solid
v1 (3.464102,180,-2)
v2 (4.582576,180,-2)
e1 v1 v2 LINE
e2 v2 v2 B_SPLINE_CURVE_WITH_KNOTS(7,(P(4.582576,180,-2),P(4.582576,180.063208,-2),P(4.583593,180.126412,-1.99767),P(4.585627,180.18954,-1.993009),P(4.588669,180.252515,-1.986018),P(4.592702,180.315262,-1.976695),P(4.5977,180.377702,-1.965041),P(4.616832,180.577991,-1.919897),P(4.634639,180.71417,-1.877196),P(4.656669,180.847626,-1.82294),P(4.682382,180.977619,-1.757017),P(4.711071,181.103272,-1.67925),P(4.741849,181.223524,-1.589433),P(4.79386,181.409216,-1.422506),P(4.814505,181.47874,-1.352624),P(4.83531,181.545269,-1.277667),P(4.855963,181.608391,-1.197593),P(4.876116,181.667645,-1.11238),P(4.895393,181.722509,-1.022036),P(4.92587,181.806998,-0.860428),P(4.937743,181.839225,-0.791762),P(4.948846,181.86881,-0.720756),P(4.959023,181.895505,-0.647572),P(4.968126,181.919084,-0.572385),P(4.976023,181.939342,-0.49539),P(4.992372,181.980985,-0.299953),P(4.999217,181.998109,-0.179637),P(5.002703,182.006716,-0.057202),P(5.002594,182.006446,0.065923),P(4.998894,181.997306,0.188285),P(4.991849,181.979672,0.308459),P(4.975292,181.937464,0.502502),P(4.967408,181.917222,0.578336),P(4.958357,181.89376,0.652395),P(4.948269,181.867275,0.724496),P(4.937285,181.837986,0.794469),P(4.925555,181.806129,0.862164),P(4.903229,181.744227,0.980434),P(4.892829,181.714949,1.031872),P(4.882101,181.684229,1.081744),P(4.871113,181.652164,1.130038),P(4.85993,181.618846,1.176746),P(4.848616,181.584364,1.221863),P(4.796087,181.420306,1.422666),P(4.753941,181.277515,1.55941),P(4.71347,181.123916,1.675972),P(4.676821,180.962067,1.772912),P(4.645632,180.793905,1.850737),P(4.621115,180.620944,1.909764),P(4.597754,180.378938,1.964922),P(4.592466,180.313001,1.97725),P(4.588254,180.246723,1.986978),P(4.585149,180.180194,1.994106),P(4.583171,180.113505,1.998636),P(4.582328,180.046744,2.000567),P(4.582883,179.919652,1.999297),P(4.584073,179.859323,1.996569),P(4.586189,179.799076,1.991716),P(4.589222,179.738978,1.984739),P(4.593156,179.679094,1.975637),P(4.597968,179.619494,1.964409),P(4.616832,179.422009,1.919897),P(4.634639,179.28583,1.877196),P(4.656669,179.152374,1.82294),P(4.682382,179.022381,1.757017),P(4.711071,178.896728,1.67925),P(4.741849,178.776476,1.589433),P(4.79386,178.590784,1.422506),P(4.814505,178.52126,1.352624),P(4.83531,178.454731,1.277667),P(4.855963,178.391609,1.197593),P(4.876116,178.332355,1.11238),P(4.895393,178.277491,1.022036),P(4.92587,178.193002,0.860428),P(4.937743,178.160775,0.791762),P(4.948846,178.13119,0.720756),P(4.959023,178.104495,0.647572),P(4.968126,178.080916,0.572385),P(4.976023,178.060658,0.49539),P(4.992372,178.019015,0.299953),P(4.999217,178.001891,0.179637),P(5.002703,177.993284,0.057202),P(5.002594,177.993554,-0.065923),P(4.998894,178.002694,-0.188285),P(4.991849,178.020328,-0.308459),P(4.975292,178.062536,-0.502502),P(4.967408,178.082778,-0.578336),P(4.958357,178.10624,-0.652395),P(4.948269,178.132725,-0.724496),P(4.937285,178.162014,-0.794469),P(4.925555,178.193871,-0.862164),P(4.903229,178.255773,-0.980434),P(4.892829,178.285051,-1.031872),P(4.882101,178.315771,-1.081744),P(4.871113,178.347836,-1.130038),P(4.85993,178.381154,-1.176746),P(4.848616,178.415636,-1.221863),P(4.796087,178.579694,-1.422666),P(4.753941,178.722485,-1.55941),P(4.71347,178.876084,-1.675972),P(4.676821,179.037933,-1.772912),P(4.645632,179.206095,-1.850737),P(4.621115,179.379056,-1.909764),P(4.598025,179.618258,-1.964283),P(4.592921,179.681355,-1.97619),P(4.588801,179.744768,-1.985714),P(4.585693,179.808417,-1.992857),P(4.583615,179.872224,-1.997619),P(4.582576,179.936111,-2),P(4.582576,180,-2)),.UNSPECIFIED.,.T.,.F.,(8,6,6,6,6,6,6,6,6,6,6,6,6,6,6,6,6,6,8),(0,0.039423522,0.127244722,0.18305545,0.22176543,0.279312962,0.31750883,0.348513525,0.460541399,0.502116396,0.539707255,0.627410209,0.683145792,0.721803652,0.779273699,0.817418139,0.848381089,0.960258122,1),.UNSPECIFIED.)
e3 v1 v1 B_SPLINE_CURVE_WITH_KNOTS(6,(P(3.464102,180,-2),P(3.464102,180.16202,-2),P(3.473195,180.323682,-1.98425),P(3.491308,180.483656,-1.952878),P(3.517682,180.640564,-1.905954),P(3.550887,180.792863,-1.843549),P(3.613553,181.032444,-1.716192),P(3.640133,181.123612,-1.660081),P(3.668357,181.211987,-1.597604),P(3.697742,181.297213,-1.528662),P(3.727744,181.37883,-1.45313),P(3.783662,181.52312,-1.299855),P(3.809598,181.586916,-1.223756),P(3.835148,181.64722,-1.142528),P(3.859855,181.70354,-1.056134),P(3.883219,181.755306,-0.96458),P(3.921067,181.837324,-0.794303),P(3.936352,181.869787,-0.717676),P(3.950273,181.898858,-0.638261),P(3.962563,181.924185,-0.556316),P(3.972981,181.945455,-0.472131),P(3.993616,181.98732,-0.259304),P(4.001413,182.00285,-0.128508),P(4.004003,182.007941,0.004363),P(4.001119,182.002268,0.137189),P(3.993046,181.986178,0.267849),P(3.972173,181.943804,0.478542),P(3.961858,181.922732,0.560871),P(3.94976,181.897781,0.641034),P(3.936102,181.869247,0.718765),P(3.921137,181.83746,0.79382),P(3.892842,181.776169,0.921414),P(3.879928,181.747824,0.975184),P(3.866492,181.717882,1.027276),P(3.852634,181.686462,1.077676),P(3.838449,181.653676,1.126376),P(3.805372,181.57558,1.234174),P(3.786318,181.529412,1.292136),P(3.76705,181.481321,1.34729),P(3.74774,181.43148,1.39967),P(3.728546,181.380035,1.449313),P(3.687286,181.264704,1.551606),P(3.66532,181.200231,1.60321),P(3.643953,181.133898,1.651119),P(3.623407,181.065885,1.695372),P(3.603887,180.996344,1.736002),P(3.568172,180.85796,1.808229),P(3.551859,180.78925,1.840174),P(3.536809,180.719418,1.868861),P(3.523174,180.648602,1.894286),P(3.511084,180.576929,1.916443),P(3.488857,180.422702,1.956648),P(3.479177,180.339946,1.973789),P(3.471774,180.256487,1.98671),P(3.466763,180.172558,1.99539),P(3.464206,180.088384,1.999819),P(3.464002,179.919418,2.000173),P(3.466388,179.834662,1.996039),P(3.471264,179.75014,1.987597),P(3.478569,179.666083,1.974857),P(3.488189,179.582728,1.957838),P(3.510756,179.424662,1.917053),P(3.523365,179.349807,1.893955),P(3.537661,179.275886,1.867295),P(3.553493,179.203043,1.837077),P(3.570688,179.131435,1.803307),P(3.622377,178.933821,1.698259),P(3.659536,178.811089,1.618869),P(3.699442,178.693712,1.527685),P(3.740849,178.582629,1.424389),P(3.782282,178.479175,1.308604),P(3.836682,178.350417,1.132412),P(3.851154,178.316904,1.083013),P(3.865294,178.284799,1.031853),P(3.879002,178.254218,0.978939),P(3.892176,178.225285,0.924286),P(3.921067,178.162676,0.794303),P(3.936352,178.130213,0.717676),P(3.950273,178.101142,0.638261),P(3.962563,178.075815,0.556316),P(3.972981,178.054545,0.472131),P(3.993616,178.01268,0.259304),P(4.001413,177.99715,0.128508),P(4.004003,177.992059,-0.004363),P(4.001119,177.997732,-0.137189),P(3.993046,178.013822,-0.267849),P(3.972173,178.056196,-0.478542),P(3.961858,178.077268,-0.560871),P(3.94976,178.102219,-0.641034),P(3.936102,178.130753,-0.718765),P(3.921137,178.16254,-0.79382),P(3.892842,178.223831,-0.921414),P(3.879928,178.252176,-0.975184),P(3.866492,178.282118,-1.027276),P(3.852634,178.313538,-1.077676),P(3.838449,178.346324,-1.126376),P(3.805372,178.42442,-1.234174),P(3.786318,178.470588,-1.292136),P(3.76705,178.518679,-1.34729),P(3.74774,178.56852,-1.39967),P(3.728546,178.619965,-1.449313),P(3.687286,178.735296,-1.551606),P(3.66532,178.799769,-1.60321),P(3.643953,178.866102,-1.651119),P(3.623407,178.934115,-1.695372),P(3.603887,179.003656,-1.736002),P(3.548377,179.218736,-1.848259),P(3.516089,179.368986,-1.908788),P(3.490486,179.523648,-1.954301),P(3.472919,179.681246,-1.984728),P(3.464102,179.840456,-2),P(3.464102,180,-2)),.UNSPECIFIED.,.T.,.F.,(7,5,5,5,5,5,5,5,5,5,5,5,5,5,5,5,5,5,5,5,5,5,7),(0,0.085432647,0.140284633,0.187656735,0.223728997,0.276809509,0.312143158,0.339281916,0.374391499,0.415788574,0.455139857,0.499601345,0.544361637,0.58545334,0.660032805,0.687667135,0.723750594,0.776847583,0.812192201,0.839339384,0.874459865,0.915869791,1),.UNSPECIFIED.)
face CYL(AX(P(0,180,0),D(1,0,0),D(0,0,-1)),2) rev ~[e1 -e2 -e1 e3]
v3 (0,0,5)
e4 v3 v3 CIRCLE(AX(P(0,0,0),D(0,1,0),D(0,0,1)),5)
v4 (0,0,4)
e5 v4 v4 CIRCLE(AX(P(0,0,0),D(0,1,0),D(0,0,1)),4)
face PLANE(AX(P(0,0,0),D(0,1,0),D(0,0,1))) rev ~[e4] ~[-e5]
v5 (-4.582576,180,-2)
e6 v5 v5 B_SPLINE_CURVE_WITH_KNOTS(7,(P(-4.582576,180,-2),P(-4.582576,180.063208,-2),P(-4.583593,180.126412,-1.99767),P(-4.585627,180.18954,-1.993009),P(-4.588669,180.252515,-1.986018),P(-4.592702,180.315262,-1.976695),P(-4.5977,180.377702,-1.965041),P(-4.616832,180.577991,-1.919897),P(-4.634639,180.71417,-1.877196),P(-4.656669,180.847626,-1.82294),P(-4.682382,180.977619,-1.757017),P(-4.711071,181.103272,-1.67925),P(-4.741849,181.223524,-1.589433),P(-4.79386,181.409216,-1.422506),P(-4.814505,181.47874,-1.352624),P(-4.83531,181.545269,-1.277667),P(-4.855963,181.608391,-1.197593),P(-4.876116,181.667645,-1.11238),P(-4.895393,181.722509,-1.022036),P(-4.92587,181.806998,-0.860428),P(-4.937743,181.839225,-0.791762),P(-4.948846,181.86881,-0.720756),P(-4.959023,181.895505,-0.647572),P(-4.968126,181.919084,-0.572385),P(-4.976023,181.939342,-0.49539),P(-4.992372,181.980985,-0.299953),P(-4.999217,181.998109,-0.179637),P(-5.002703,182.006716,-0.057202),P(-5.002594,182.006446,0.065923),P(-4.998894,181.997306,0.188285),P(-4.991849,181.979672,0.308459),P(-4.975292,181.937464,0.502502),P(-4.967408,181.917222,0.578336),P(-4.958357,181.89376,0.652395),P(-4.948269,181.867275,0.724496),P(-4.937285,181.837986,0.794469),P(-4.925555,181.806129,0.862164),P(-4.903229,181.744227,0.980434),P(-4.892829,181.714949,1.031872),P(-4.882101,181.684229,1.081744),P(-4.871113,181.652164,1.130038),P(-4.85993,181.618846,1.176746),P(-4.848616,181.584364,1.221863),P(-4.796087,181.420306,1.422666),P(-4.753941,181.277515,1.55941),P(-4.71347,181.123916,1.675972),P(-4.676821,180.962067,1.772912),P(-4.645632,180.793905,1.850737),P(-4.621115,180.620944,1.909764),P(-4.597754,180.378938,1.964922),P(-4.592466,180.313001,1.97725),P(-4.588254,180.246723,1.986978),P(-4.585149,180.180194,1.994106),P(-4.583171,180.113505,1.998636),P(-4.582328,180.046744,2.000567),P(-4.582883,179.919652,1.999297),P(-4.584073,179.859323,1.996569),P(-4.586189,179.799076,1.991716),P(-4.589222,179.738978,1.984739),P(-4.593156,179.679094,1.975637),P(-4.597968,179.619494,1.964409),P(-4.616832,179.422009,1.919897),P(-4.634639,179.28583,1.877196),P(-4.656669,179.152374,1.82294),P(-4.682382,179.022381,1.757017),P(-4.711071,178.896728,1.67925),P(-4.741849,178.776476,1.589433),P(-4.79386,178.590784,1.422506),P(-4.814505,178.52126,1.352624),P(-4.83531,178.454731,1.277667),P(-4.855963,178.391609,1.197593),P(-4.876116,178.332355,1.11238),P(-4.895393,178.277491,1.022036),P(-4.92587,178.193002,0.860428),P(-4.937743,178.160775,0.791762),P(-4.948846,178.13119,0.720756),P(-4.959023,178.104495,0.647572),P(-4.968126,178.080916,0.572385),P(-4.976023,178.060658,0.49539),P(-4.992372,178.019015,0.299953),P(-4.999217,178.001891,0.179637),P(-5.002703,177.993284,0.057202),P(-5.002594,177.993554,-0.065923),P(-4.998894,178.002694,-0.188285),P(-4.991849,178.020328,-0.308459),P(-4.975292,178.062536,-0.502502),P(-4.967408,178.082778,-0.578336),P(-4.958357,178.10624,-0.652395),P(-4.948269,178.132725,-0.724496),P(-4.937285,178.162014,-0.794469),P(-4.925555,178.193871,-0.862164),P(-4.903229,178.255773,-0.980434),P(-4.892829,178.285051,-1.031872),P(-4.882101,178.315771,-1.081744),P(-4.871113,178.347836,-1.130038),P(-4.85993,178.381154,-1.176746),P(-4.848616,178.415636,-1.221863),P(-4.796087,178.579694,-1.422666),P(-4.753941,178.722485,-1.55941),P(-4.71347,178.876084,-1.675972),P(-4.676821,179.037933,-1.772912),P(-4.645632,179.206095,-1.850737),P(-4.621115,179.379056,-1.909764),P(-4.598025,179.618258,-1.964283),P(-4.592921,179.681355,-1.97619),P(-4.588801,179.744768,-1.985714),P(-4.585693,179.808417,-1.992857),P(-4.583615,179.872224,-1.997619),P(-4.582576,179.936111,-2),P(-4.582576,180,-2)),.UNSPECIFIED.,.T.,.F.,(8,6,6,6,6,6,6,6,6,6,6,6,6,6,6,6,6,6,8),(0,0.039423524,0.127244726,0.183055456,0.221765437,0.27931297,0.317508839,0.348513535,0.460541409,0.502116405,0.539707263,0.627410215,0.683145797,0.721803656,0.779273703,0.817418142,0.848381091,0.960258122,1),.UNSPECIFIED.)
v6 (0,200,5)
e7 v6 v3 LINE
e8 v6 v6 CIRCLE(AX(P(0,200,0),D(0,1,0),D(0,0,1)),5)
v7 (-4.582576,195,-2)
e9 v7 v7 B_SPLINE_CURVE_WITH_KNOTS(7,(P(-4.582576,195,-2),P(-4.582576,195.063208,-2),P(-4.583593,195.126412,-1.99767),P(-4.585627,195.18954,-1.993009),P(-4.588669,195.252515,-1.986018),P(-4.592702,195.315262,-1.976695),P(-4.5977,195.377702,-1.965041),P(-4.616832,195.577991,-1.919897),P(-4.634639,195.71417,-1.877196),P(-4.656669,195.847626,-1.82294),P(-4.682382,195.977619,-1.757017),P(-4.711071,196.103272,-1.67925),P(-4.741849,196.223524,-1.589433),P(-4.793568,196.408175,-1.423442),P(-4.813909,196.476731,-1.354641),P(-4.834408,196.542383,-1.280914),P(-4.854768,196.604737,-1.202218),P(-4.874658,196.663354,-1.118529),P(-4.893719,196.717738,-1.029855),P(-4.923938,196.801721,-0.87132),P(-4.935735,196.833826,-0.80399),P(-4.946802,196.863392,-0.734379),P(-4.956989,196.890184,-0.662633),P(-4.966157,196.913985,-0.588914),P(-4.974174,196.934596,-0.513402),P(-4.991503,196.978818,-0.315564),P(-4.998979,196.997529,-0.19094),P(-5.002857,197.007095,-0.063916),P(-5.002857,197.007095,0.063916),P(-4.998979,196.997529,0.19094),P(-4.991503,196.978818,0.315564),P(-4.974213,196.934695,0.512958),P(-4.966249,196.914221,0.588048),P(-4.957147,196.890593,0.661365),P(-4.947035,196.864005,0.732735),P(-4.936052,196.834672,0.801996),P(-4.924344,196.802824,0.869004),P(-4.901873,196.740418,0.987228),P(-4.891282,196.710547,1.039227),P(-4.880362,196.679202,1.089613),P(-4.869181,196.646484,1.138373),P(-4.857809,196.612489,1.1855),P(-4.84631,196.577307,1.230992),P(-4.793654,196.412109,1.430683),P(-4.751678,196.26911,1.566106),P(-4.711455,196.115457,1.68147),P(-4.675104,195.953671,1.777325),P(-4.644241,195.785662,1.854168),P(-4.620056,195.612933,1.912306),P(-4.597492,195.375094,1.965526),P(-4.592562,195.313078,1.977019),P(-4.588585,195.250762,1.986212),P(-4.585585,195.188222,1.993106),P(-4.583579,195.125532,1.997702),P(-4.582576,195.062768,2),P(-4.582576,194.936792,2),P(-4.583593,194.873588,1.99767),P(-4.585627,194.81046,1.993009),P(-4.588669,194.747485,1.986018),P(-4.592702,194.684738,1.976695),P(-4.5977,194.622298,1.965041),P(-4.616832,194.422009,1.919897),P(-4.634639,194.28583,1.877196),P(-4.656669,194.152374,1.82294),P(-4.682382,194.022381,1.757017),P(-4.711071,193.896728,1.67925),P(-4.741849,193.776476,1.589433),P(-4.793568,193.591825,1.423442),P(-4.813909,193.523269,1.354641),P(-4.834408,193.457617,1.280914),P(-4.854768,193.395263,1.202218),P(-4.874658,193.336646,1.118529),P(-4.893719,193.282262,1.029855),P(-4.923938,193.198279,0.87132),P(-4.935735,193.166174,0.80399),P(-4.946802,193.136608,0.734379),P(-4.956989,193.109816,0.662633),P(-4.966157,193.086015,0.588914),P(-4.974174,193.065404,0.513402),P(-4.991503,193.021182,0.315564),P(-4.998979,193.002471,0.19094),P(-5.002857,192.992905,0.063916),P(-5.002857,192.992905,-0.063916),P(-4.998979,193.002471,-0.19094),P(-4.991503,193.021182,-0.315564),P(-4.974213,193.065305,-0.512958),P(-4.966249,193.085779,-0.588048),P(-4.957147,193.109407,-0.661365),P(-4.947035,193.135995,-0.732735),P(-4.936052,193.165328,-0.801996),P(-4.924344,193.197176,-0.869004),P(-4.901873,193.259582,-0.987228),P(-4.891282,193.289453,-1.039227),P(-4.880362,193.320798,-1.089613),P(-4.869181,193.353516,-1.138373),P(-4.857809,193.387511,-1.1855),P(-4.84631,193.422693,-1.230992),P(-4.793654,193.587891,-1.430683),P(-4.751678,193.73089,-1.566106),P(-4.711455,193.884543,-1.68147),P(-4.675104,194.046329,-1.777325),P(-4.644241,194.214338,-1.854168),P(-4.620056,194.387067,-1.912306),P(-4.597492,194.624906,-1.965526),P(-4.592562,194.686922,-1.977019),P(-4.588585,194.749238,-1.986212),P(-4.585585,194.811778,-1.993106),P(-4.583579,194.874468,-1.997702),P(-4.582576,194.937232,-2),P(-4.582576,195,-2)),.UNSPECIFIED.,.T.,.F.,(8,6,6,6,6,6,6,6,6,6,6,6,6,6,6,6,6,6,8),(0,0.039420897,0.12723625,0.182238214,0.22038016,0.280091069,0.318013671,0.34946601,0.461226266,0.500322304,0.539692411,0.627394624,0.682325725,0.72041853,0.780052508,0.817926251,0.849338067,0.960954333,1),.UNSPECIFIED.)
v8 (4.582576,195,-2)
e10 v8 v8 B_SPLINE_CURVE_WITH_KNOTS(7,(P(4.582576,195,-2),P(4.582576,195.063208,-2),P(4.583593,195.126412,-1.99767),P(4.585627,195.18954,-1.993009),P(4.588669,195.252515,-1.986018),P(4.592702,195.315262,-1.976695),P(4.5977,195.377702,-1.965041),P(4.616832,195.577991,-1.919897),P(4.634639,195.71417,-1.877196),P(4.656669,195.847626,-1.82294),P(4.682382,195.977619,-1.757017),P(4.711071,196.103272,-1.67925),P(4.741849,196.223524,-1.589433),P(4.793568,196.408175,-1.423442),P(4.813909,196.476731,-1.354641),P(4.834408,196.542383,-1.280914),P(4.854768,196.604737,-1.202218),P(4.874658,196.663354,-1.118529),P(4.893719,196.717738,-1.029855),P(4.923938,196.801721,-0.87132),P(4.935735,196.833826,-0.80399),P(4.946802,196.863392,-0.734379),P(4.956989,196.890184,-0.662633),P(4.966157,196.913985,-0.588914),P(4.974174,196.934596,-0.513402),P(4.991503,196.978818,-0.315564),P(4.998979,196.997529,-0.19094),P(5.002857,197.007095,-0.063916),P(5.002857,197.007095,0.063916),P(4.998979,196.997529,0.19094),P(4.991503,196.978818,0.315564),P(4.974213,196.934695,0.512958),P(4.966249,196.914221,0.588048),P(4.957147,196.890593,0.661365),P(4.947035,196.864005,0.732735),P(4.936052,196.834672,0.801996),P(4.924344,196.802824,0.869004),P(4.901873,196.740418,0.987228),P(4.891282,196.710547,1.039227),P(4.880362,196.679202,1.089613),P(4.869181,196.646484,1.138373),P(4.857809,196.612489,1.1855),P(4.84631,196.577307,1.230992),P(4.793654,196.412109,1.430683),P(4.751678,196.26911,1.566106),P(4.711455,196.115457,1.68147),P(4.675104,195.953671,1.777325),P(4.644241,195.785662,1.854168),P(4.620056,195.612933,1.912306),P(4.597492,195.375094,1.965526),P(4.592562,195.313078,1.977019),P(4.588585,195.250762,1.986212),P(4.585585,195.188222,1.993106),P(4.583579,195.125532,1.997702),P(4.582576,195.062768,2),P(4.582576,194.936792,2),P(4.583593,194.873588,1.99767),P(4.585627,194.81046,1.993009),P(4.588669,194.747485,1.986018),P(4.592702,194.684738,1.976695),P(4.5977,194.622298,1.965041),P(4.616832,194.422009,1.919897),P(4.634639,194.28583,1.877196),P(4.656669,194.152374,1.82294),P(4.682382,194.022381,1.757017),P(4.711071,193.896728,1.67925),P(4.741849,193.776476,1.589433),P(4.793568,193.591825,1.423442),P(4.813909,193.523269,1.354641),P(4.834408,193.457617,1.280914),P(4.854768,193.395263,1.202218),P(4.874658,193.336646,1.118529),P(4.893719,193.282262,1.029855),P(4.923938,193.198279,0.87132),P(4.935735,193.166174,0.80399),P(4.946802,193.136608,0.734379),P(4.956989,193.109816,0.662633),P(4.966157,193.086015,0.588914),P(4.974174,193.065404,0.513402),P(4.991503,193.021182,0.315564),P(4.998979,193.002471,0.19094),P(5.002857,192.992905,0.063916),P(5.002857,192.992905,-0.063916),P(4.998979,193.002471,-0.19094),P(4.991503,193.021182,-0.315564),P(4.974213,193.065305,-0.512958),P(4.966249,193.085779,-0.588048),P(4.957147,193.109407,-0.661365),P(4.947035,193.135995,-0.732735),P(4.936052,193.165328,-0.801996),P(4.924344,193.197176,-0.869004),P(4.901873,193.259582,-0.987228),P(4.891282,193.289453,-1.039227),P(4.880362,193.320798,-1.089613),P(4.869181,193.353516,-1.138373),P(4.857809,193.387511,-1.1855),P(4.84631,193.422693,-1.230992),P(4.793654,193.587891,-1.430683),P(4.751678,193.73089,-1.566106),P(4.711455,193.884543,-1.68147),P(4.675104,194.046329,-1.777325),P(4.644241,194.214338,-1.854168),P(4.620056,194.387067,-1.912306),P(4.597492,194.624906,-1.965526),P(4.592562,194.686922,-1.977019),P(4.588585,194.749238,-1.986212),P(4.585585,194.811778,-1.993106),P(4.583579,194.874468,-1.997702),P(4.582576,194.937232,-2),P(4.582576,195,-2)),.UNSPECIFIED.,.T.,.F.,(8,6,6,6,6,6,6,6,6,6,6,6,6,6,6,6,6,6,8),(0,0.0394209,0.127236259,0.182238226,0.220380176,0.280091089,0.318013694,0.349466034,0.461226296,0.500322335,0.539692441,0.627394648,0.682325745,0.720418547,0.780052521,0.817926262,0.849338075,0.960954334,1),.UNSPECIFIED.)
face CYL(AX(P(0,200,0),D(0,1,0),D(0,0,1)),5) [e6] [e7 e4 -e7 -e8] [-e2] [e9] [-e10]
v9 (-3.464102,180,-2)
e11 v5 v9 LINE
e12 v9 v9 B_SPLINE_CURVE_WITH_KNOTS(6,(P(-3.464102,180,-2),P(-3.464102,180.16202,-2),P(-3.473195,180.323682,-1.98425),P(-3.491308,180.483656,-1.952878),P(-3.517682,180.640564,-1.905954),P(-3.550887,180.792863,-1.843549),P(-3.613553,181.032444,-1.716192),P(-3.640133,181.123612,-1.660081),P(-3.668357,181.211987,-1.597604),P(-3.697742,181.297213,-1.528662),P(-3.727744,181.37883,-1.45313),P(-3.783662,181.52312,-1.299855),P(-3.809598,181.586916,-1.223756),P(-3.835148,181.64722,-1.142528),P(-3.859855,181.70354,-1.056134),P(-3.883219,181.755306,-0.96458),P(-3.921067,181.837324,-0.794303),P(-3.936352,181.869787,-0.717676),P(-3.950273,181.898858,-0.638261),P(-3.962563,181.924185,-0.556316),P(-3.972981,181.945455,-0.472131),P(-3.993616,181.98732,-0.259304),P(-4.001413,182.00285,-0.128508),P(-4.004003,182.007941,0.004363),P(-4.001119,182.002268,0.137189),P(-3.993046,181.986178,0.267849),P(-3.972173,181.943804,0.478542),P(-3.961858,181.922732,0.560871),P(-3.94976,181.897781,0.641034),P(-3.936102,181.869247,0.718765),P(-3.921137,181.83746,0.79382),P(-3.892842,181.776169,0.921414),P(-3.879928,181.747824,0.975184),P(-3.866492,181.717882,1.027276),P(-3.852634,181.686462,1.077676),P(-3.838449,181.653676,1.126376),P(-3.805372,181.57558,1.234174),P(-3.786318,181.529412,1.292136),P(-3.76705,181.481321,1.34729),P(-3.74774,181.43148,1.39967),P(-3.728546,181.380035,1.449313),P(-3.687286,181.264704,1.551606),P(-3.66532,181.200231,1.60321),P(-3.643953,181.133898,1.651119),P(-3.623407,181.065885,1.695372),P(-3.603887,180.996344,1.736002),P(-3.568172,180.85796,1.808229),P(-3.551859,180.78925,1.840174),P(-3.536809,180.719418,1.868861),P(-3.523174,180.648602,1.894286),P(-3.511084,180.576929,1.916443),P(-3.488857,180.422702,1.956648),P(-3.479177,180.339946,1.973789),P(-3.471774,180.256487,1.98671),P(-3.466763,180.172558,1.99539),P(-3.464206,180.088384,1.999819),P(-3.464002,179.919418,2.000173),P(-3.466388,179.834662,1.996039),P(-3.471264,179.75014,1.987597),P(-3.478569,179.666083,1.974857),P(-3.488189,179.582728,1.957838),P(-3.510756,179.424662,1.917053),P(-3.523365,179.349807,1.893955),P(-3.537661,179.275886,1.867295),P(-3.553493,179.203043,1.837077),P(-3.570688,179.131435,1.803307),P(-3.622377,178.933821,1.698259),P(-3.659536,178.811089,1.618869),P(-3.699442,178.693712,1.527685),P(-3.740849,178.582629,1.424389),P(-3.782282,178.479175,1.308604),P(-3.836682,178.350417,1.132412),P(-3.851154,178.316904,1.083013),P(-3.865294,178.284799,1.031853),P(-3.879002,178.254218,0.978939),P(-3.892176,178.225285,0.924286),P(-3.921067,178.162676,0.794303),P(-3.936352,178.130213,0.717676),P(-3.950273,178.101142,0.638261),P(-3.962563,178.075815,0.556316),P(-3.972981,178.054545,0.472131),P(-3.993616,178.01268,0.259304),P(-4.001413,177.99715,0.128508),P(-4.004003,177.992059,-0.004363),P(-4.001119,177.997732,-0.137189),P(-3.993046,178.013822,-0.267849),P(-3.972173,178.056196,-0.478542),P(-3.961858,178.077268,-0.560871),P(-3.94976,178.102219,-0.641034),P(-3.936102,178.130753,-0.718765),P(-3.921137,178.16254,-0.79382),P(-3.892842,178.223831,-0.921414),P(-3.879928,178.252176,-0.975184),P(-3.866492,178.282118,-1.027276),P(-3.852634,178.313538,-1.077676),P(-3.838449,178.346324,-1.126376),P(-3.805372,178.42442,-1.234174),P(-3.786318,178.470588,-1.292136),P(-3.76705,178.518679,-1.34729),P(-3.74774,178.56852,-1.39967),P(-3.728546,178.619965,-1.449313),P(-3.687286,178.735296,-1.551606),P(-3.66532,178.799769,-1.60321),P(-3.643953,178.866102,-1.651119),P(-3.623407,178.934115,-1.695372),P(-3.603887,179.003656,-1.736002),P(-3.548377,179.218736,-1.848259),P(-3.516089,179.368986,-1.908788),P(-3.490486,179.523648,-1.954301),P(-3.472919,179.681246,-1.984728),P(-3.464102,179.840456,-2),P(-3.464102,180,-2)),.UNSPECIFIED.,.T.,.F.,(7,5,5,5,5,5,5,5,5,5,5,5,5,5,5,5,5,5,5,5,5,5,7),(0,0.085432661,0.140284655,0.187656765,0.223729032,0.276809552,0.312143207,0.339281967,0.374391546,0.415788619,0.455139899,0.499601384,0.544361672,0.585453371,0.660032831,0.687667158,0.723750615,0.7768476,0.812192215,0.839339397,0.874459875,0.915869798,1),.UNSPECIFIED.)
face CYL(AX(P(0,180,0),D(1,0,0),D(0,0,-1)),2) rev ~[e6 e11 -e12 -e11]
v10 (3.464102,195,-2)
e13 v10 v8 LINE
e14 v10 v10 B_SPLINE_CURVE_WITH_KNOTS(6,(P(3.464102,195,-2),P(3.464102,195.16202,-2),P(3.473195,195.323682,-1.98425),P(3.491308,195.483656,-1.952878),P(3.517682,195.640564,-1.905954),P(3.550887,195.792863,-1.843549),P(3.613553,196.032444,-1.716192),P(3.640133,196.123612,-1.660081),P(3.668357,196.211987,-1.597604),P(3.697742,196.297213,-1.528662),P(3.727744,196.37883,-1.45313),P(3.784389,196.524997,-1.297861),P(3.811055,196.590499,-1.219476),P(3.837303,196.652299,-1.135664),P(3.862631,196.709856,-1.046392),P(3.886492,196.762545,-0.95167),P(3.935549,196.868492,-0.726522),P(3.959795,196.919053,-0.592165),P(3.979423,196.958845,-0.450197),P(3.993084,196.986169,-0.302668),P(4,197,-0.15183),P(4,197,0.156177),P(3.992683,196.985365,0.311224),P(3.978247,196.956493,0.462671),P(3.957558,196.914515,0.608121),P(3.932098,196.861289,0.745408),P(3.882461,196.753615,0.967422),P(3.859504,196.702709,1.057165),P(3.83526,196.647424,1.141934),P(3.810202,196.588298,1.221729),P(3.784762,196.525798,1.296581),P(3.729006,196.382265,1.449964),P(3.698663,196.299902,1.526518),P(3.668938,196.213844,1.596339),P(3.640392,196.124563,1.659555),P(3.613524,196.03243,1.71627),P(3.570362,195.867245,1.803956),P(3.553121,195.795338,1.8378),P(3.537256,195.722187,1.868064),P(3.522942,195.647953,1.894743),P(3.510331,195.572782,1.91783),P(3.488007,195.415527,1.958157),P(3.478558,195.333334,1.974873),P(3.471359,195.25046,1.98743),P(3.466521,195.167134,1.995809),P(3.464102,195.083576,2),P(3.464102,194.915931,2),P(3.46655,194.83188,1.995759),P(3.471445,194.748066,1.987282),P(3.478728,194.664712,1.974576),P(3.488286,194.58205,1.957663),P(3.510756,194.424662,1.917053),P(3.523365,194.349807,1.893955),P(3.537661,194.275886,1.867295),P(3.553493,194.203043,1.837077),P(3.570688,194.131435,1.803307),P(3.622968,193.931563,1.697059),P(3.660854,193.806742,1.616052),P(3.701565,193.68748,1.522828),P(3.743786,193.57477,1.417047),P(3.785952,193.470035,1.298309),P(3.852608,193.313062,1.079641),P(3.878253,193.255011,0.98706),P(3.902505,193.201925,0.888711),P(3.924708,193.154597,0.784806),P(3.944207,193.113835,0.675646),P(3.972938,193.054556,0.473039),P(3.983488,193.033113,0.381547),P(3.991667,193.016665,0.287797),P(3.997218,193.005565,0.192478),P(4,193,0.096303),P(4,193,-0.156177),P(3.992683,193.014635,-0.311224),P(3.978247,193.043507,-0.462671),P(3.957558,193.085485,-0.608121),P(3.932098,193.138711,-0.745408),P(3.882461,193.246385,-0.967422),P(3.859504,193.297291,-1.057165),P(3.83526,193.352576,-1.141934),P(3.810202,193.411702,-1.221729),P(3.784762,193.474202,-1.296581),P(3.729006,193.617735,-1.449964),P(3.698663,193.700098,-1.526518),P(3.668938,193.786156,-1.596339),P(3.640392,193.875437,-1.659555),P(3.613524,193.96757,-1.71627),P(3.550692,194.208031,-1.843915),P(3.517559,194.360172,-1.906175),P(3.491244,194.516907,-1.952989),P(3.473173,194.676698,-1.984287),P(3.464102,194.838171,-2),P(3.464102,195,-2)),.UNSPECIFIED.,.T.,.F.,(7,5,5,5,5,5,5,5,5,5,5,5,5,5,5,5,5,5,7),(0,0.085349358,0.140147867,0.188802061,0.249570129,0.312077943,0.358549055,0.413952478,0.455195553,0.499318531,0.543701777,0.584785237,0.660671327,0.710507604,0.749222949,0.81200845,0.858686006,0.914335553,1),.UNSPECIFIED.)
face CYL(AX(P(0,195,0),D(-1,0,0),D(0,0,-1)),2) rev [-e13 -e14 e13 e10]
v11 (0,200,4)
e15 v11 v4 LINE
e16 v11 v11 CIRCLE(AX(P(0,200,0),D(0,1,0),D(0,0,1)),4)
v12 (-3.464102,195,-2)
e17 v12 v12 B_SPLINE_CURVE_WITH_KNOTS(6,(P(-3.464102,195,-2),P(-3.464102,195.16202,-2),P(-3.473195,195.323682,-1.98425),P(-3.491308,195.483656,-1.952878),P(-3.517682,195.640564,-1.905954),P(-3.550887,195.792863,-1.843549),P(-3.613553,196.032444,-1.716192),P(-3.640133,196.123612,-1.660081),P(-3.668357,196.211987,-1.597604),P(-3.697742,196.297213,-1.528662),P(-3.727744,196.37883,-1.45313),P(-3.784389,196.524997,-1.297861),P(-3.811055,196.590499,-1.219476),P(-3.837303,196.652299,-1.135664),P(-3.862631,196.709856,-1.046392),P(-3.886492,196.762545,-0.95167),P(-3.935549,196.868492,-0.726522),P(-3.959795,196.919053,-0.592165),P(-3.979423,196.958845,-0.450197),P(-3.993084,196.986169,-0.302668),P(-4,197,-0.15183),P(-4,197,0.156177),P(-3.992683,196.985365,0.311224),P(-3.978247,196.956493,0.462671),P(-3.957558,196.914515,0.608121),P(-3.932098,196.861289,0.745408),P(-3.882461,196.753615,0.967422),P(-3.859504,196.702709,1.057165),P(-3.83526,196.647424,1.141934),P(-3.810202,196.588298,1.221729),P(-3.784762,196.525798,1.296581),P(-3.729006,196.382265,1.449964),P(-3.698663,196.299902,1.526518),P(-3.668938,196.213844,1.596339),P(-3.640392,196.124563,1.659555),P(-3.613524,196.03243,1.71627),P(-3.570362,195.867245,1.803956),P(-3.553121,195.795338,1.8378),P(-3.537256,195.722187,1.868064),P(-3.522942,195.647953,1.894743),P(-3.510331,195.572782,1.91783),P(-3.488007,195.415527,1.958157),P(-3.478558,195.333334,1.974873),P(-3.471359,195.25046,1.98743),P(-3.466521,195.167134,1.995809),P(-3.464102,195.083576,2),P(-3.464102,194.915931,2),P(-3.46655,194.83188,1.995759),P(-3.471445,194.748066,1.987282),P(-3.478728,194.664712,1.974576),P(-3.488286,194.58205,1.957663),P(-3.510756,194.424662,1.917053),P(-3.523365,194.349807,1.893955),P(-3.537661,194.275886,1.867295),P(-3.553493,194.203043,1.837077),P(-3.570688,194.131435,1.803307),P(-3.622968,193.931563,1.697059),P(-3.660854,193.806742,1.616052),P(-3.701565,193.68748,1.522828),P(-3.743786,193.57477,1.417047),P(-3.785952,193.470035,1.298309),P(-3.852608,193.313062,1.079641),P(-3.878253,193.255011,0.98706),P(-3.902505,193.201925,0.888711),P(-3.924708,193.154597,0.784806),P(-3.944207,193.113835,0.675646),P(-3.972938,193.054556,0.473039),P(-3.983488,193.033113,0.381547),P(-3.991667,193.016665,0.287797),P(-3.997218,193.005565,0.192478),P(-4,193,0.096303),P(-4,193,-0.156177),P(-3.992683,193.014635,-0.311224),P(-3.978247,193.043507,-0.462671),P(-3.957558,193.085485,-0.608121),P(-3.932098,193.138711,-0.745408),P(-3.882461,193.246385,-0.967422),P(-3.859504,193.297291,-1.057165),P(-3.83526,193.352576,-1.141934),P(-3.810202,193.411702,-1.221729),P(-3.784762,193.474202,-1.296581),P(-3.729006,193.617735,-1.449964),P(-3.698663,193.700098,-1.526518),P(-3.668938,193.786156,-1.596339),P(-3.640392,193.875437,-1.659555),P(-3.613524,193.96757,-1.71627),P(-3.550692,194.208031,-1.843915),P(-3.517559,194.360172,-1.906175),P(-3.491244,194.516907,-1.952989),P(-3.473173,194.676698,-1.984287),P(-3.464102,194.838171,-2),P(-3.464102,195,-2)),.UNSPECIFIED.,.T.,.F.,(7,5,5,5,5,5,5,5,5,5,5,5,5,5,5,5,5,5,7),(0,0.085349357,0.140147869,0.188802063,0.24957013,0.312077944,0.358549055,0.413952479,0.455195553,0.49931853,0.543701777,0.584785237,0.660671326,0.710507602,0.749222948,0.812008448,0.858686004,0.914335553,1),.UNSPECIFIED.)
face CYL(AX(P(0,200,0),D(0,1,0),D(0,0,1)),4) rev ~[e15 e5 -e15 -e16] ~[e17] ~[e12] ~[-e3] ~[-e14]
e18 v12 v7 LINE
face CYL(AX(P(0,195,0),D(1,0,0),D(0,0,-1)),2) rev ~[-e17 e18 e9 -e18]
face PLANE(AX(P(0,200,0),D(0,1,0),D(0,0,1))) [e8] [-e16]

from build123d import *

# Parameters (mm, degrees)
SKETCH_2_R          = 3
SKETCH_2_R_2        = 1.5
EXTRUDE_1_DEPTH     = 200
SKETCH_3_R          = 5
EXTRUDE_2_DEPTH     = 200
SKETCH_4_R          = 4
CUT_EXTRUDE_1_DEPTH = 200
SKETCH_5_R          = 2
CUT_EXTRUDE_5_DEPTH = 100


with BuildPart() as part:
    # 草图2 → 凸台-拉伸1 (new body)
    with BuildSketch(Plane(origin=(0, 0, 0), x_dir=(1, 0, 0), z_dir=(0, 1, 0))):
        with Locations(Location((0, 0, 0), (0, 0, 270))):
            Circle(SKETCH_2_R)
        with Locations(Location((0, 0, 0), (0, 0, 270))):
            Circle(SKETCH_2_R_2, mode=Mode.SUBTRACT)
    extrude(amount=EXTRUDE_1_DEPTH)

    # 草图3 → 凸台-拉伸2 (add)
    with BuildSketch(Plane(origin=(0, 200, 0), x_dir=(1, 0, 0), z_dir=(0, 1, 0))):
        with Locations(Location((0, 0, 0), (0, 0, 270))):
            Circle(SKETCH_3_R)
    extrude(amount=-EXTRUDE_2_DEPTH)

    # 草图4 → 切除-拉伸1 (cut)
    with BuildSketch(Plane(origin=(0, 200, 0), x_dir=(1, 0, 0), z_dir=(0, 1, 0))):
        with Locations(Location((0, 0, 0), (0, 0, 270))):
            Circle(SKETCH_4_R)
    extrude(amount=-CUT_EXTRUDE_1_DEPTH, mode=Mode.SUBTRACT)

    # 草图5 → 切除-拉伸5 (cut, symmetric)
    with BuildSketch(Plane(origin=(0, 0, 0), x_dir=(0, 0, -1), z_dir=(1, 0, 0))):
        with Locations((0, 195)):
            Circle(SKETCH_5_R)
        with Locations((0, 180)):
            Circle(SKETCH_5_R)
    extrude(amount=CUT_EXTRUDE_5_DEPTH, both=True, mode=Mode.SUBTRACT)


solid = part.part
